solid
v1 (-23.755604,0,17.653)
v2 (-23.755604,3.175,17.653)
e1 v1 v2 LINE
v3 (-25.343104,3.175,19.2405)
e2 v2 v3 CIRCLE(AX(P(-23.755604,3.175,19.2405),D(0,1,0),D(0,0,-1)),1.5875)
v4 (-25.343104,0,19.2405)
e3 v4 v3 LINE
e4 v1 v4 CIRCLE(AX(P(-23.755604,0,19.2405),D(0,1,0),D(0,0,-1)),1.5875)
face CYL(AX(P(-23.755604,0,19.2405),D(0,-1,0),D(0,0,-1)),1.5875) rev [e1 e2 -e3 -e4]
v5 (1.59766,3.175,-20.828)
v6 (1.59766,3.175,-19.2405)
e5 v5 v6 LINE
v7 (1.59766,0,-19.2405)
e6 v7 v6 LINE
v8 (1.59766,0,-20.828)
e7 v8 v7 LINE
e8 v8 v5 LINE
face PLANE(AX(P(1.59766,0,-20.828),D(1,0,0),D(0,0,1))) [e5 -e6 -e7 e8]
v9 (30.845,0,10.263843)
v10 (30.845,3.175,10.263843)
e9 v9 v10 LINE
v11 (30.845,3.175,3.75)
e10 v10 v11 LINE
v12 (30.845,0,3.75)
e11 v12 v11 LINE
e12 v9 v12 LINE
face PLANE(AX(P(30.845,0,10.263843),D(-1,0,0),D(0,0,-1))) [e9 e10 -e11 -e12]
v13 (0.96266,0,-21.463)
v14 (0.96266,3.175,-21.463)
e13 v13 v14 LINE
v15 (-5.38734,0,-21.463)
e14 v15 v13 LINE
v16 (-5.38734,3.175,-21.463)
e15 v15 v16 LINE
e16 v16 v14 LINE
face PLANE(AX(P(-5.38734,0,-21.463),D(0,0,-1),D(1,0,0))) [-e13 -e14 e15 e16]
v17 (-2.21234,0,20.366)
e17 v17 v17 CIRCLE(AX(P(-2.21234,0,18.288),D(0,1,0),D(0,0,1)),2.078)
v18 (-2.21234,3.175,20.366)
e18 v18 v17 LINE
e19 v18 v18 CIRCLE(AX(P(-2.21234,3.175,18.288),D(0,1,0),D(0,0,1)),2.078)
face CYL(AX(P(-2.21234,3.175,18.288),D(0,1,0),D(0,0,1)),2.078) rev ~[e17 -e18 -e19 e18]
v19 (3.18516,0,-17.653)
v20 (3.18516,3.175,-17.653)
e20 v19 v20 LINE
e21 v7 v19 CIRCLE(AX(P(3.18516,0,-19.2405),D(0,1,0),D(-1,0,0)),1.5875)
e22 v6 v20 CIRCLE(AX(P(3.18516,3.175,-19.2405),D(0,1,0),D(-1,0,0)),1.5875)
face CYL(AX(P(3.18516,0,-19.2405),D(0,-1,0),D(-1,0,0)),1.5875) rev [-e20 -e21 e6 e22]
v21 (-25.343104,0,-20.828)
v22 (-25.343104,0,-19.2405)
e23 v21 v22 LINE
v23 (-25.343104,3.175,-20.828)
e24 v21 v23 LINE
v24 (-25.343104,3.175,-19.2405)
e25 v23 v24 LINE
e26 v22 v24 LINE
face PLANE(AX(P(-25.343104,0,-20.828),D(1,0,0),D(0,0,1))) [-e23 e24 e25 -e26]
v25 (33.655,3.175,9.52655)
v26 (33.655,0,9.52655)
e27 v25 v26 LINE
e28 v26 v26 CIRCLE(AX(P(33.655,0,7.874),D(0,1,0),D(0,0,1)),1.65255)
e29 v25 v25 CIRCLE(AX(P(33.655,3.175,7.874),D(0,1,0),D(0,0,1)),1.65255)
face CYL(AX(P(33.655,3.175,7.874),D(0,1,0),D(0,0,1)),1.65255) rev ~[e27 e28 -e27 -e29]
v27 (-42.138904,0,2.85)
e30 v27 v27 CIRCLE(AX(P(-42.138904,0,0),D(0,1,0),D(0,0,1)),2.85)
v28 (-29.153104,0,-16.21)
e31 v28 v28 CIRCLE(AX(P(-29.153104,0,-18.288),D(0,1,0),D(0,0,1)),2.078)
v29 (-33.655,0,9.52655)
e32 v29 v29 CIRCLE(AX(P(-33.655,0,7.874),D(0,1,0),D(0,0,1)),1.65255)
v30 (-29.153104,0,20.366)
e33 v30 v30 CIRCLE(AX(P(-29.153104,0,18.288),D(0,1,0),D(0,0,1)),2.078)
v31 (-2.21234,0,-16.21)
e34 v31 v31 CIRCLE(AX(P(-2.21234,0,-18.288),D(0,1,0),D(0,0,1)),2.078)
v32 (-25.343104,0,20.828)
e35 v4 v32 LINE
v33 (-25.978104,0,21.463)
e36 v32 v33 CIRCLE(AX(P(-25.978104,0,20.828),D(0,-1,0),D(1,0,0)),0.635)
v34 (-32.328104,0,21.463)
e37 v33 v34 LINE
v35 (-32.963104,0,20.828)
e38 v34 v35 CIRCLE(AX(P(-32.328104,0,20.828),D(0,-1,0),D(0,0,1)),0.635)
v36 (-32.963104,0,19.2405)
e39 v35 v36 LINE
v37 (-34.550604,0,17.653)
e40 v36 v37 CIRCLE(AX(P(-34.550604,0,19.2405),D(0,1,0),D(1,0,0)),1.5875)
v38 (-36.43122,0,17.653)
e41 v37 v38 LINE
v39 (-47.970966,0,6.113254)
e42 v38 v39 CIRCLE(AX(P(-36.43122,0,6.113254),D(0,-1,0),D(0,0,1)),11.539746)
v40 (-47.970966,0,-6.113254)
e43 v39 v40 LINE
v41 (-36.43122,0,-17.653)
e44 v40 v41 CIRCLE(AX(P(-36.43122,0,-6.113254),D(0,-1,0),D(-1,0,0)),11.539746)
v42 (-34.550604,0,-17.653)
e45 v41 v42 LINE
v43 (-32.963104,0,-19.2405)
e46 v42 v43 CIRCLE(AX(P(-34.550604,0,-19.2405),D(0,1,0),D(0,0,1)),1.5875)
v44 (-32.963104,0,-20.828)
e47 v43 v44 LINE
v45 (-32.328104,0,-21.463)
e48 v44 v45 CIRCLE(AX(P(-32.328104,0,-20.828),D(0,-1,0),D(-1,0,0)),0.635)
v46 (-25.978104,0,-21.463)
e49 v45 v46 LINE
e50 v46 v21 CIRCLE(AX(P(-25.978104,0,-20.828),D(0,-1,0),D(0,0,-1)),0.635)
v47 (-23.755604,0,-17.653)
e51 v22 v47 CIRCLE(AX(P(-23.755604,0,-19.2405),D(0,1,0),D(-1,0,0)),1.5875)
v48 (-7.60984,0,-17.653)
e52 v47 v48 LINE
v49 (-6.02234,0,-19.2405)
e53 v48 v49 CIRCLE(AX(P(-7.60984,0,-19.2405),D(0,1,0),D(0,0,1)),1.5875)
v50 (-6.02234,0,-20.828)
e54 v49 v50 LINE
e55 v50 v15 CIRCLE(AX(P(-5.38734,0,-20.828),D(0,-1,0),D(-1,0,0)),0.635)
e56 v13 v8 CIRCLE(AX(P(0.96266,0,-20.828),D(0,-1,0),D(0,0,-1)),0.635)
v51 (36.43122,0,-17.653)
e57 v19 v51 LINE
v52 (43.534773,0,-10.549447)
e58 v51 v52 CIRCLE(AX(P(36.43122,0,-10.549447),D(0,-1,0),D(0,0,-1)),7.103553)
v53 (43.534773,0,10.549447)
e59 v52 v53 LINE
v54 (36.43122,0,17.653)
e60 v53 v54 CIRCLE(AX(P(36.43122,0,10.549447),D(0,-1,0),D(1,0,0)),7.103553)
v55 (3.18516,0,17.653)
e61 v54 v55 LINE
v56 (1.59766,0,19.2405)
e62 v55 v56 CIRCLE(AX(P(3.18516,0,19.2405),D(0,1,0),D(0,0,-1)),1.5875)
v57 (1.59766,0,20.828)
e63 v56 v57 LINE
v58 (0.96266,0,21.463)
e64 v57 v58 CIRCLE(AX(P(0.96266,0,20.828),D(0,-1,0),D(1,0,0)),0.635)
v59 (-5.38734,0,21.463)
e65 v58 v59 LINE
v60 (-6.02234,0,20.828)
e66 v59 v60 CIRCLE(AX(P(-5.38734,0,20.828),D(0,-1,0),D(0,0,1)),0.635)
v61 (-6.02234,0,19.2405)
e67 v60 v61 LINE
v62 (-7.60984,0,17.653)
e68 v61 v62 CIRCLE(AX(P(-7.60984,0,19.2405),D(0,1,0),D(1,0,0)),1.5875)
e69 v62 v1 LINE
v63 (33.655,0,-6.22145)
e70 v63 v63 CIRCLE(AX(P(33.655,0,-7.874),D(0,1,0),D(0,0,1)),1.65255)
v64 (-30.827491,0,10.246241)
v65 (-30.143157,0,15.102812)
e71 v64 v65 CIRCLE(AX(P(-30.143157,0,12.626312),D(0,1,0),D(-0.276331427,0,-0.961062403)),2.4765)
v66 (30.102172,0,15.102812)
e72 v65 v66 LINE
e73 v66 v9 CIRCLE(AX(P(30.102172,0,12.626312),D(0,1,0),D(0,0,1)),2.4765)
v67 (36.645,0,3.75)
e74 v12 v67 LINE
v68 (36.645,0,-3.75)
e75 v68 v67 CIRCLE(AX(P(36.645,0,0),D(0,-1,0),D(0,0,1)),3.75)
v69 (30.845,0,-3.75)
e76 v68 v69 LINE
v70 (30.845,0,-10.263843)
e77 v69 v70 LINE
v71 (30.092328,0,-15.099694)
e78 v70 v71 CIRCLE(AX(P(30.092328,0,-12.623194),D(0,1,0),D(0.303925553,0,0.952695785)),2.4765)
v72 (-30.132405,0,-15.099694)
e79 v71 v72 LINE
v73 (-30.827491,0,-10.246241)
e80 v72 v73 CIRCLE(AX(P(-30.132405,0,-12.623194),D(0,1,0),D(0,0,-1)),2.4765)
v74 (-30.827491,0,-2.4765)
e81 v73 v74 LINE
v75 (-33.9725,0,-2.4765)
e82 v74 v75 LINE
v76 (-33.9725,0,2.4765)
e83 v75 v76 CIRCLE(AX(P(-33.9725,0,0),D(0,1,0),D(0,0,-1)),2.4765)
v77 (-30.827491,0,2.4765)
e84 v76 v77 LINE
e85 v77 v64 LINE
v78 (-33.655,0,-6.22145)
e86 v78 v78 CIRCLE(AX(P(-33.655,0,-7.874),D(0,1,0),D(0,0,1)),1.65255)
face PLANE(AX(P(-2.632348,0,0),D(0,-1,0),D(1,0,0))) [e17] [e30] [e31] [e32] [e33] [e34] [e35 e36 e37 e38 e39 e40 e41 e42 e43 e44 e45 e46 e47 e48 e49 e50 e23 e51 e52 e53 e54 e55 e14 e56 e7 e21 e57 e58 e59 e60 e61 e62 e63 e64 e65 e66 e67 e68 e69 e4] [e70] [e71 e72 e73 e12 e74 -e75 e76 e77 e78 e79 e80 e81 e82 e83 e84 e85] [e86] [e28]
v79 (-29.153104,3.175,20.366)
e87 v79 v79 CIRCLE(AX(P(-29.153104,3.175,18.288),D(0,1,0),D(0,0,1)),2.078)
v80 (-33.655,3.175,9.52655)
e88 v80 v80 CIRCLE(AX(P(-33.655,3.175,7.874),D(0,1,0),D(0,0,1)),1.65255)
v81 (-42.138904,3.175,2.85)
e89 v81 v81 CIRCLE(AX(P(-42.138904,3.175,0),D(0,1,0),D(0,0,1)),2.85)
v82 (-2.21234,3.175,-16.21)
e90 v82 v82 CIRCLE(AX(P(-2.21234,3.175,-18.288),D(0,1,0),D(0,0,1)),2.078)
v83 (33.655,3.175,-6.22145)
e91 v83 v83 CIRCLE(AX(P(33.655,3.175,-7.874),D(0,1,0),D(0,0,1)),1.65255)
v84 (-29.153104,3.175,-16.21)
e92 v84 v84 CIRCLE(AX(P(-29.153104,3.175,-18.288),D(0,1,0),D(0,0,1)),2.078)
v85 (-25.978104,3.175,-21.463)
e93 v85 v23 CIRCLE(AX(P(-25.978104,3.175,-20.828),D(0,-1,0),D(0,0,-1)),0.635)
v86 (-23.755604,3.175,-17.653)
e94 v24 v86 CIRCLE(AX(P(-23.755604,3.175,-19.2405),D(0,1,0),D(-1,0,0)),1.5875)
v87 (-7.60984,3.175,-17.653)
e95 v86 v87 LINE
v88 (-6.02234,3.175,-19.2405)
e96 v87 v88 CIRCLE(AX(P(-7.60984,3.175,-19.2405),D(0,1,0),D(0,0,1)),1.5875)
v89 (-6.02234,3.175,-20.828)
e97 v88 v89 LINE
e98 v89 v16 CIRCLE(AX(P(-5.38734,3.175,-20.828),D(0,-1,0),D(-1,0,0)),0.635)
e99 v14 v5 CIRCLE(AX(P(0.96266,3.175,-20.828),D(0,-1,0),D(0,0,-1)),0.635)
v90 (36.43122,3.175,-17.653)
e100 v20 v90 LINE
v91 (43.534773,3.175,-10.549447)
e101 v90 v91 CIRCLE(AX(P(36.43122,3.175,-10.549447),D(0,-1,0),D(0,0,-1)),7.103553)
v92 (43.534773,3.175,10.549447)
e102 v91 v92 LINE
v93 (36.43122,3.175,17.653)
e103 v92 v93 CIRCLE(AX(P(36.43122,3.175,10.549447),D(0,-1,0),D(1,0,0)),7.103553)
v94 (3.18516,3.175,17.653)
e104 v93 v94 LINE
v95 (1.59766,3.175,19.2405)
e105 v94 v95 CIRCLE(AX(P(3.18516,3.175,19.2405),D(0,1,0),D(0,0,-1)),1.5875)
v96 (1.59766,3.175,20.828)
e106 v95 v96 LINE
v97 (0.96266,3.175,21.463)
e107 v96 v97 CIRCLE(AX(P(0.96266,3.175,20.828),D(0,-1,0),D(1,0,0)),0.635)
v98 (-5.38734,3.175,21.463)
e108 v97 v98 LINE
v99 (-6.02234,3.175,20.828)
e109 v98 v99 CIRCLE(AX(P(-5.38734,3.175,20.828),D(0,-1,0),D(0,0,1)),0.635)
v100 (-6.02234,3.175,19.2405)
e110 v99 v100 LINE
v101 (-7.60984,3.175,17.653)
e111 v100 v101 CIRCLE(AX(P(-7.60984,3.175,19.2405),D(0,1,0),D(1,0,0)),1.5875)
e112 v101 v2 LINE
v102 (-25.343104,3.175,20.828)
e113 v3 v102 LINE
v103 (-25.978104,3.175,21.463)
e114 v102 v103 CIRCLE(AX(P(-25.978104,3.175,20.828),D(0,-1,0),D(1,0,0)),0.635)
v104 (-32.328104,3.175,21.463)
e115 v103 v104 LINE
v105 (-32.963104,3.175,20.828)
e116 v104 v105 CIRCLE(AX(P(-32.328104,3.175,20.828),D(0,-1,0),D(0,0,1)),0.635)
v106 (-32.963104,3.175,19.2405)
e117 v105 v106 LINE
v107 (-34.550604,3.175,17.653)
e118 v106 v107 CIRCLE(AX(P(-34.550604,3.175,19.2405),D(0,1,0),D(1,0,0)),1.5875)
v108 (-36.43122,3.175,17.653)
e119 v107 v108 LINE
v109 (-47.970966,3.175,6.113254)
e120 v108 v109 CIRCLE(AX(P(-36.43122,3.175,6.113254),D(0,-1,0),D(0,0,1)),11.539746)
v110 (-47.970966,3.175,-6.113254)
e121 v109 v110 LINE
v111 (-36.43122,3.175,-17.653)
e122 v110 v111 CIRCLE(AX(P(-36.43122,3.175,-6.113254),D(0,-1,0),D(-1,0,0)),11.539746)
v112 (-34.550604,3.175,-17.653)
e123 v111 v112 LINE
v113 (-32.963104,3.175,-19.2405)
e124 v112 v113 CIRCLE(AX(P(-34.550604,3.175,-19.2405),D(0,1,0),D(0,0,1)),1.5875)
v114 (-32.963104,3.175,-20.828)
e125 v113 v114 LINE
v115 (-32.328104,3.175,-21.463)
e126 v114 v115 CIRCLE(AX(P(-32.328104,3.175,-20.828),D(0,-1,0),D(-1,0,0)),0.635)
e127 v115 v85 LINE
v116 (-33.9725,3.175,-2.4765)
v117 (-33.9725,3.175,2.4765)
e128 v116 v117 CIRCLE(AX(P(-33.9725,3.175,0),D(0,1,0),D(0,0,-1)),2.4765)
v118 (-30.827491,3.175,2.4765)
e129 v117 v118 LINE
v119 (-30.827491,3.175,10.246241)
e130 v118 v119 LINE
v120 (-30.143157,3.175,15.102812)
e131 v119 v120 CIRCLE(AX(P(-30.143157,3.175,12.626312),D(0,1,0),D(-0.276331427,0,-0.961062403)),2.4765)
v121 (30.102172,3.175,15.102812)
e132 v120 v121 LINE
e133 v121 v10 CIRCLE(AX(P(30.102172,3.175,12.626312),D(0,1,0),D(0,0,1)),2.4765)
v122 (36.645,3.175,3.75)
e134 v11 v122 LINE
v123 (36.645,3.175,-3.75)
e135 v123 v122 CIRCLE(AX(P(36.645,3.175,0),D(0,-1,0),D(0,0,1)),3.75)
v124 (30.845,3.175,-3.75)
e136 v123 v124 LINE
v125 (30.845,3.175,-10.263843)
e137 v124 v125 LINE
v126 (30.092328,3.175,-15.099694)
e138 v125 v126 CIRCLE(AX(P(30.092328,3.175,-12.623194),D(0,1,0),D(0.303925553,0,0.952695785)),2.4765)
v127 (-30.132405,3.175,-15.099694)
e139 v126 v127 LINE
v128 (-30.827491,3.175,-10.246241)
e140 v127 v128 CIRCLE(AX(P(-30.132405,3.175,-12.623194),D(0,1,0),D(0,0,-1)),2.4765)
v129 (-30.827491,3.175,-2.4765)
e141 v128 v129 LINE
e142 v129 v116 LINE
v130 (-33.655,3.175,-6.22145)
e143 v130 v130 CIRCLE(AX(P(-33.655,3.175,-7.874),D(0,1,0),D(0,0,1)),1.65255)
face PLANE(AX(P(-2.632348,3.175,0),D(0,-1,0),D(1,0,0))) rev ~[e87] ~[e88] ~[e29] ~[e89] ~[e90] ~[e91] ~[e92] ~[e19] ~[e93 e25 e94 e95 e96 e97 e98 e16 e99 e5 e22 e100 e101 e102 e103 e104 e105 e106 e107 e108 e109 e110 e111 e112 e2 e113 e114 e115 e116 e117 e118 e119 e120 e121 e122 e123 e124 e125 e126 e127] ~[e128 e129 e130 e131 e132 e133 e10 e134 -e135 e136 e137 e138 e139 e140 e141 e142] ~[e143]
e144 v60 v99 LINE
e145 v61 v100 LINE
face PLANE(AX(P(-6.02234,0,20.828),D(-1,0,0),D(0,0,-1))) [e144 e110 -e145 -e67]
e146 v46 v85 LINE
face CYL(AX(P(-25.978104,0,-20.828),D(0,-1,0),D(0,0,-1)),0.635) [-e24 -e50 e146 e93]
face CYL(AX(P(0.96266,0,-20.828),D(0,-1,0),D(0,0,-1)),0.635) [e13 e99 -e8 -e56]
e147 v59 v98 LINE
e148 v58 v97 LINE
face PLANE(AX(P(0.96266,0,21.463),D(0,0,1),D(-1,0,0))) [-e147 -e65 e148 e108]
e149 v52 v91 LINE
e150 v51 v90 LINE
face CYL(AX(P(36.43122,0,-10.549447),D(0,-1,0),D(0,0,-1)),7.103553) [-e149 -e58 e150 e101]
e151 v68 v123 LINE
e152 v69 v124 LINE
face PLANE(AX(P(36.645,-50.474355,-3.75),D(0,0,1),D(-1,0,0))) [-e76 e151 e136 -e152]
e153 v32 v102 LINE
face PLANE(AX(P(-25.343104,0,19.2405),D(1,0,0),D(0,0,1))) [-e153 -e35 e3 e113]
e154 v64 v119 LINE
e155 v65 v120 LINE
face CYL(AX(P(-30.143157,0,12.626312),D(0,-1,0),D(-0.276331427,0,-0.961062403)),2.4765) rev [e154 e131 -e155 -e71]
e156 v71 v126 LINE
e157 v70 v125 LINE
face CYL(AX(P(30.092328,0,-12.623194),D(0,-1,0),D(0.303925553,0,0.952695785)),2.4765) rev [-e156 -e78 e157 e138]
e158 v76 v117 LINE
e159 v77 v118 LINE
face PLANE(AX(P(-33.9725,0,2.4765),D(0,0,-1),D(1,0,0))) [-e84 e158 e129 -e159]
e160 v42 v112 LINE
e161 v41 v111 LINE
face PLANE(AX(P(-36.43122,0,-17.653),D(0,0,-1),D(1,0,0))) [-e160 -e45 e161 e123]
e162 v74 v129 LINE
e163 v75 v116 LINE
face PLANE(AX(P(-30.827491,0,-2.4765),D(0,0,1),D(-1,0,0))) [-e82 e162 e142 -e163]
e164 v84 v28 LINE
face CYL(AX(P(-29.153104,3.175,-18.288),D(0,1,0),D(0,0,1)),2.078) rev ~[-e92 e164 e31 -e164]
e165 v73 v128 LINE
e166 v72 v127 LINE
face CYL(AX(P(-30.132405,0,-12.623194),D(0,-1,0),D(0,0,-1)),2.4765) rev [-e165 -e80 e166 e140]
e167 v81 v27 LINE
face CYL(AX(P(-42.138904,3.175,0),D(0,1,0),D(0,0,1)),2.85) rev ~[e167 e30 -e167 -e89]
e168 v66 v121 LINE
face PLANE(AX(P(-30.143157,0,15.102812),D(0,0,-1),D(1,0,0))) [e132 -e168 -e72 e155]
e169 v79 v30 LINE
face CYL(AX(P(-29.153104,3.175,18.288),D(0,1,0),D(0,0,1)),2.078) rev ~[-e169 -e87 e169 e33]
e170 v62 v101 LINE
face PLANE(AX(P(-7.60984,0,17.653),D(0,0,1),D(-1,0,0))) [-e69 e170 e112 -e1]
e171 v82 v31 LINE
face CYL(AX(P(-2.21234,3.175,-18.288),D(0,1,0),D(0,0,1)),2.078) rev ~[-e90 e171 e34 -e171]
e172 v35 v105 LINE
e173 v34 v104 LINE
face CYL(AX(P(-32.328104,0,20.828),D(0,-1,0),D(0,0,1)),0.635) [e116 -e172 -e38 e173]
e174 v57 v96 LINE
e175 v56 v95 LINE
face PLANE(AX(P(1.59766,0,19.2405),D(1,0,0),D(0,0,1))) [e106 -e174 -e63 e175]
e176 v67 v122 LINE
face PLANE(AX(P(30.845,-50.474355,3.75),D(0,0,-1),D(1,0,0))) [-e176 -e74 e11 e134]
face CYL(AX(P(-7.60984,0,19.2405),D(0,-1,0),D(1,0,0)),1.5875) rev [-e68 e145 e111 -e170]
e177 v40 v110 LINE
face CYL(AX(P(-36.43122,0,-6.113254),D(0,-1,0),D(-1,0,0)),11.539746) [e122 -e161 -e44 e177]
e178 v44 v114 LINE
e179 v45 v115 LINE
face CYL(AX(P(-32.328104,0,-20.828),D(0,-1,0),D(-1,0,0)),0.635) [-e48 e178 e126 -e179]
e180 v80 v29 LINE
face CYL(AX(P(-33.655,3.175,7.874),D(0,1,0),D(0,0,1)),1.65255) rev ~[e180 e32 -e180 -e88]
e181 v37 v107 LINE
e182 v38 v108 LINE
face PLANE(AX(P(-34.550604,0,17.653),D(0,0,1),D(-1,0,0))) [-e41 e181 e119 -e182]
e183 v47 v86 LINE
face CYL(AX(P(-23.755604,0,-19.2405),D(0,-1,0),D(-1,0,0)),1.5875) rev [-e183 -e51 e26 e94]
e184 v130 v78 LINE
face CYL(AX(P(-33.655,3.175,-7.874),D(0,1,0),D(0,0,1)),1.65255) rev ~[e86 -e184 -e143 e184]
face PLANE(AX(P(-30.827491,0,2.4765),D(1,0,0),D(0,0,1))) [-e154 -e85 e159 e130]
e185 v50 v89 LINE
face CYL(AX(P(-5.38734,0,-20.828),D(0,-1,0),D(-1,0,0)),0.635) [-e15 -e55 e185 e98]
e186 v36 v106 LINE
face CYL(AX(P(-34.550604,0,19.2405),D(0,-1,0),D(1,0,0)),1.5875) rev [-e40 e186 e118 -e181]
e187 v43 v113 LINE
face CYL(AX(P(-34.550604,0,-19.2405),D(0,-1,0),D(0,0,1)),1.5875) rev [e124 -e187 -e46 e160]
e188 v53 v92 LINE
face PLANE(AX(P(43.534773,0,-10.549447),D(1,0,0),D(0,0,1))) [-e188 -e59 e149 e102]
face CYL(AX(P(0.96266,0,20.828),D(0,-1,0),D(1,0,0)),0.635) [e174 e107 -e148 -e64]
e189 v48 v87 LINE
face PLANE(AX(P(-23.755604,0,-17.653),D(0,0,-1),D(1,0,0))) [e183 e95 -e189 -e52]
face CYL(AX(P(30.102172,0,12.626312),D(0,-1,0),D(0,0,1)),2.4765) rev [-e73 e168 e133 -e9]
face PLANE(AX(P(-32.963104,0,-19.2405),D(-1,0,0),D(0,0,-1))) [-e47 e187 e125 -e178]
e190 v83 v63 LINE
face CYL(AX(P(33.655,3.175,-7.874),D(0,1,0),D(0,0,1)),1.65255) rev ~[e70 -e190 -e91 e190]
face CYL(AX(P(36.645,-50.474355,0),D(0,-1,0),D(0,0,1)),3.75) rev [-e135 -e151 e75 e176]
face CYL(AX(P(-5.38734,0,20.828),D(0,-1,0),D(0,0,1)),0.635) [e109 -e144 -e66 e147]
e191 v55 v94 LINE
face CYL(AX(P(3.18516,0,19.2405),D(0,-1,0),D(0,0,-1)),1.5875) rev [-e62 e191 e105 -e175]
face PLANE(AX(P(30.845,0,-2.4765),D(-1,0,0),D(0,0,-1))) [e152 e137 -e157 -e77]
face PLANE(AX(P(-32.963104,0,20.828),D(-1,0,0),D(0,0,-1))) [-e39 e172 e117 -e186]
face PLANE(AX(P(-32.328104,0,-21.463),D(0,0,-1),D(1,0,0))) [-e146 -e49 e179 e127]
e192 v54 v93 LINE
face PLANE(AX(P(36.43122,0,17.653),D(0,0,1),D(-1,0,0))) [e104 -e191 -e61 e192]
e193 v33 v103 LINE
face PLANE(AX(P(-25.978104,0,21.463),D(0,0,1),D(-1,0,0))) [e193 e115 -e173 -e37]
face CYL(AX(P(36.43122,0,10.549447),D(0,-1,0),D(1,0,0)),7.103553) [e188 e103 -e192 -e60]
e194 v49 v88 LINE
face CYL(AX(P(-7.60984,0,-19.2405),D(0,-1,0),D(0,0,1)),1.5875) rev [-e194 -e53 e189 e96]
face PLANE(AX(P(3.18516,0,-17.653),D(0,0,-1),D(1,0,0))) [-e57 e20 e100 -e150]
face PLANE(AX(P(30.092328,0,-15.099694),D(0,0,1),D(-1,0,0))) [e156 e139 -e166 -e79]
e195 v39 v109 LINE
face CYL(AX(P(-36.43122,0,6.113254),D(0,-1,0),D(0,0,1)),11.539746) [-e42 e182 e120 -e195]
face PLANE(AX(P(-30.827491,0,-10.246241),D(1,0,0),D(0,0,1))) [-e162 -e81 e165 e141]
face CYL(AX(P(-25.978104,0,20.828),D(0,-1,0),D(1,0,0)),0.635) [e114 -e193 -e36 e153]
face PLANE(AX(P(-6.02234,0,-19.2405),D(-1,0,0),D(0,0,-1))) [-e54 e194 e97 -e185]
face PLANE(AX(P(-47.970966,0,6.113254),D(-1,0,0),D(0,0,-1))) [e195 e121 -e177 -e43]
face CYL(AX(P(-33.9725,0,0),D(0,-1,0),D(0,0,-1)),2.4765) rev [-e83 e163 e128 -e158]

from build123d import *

# Parameters (mm, degrees)
CROQUIS1_R                 = 1.35255
CROQUIS1_R_2               = 1.778
SALIENTE_EXTRUIR1_DEPTH    = 3.175
CROQUIS5_R                 = 2.55
CORTAR_EXTRUIR1_DEPTH      = 53.649355209
CORTAR_EXTRUIR2_DEPTH      = 53.649355209
CORTAR_EXTRUIR2_DEPTH_BACK = 53.649355209
CROQUIS10_R                = 2.078
CROQUIS10_R_2              = 1.65255
CROQUIS10_R_3              = 2.85
CORTAR_EXTRUIR3_DEPTH      = 53.649355209


with BuildPart() as part:
    # Croquis1 → Saliente-Extruir1 (new body)
    with BuildSketch(Plane.XZ):
        with BuildLine():
            Line((-6.02234, -19.2405), (-6.02234, -20.828))
            ThreePointArc((-6.02234, -20.828), (-5.836352806, -21.277012806), (-5.38734, -21.463))
            Line((-5.38734, -21.463), (0.96266, -21.463))
            ThreePointArc((0.96266, -21.463), (1.411672806, -21.277012806), (1.59766, -20.828))
            Line((1.59766, -20.828), (1.59766, -19.2405))
            ThreePointArc((1.59766, -19.2405), (2.062627985, -18.117967985), (3.18516, -17.653))
            Line((3.18516, -17.653), (36.43122, -17.653))
            ThreePointArc((36.43122, -17.653), (41.454190356, -15.572417555), (43.534772801, -10.549447199))
            Line((43.534772801, -10.549447199), (43.534772801, 10.549447199))
            ThreePointArc((43.534772801, 10.549447199), (41.454190356, 15.572417555), (36.43122, 17.653))
            Line((36.43122, 17.653), (3.18516, 17.653))
            ThreePointArc((3.18516, 17.653), (2.062627985, 18.117967985), (1.59766, 19.2405))
            Line((1.59766, 19.2405), (1.59766, 20.828))
            ThreePointArc((1.59766, 20.828), (1.411672806, 21.277012806), (0.96266, 21.463))
            Line((0.96266, 21.463), (-5.38734, 21.463))
            ThreePointArc((-5.38734, 21.463), (-5.836352806, 21.277012806), (-6.02234, 20.828))
            Line((-6.02234, 20.828), (-6.02234, 19.2405))
            ThreePointArc((-6.02234, 19.2405), (-6.487307985, 18.117967985), (-7.60984, 17.653))
            Line((-7.60984, 17.653), (-23.755604, 17.653))
            ThreePointArc((-23.755604, 17.653), (-24.878136015, 18.117967985), (-25.343104, 19.2405))
            Line((-25.343104, 19.2405), (-25.343104, 20.828))
            ThreePointArc((-25.343104, 20.828), (-25.529091194, 21.277012806), (-25.978104, 21.463))
            Line((-25.978104, 21.463), (-32.328104, 21.463))
            ThreePointArc((-32.328104, 21.463), (-32.777116806, 21.277012806), (-32.963104, 20.828))
            Line((-32.963104, 20.828), (-32.963104, 19.2405))
            ThreePointArc((-32.963104, 19.2405), (-33.428071985, 18.117967985), (-34.550604, 17.653))
            Line((-34.550604, 17.653), (-36.43122, 17.653))
            ThreePointArc((-36.43122, 17.653), (-44.591052878, 14.273086555), (-47.970966323, 6.113253677))
            Line((-47.970966323, 6.113253677), (-47.970966323, -6.113253677))
            ThreePointArc((-47.970966323, -6.113253677), (-44.591052878, -14.273086555), (-36.43122, -17.653))
            Line((-36.43122, -17.653), (-34.550604, -17.653))
            ThreePointArc((-34.550604, -17.653), (-33.428071985, -18.117967985), (-32.963104, -19.2405))
            Line((-32.963104, -19.2405), (-32.963104, -20.828))
            ThreePointArc((-32.963104, -20.828), (-32.777116806, -21.277012806), (-32.328104, -21.463))
            Line((-32.328104, -21.463), (-25.978104, -21.463))
            ThreePointArc((-25.978104, -21.463), (-25.529091194, -21.277012806), (-25.343104, -20.828))
            Line((-25.343104, -20.828), (-25.343104, -19.2405))
            ThreePointArc((-25.343104, -19.2405), (-24.878136015, -18.117967985), (-23.755604, -17.653))
            Line((-23.755604, -17.653), (-7.60984, -17.653))
            ThreePointArc((-7.60984, -17.653), (-6.487307985, -18.117967985), (-6.02234, -19.2405))
        make_face()
        with Locations(Location((33.655, -7.874, 0), (0, 0, 90))):
            Circle(CROQUIS1_R, mode=Mode.SUBTRACT)
        with Locations(Location((-33.655, 7.874, 0), (0, 0, 90))):
            Circle(CROQUIS1_R, mode=Mode.SUBTRACT)
        with Locations(Location((-33.655, -7.874, 0), (0, 0, 90))):
            Circle(CROQUIS1_R, mode=Mode.SUBTRACT)
        with Locations(Location((-2.21234, 18.288, 0), (0, 0, 90))):
            Circle(CROQUIS1_R_2, mode=Mode.SUBTRACT)
        with Locations(Location((-29.153104, -18.288, 0), (0, 0, 90))):
            Circle(CROQUIS1_R_2, mode=Mode.SUBTRACT)
        with Locations(Location((-2.21234, -18.288, 0), (0, 0, 90))):
            Circle(CROQUIS1_R_2, mode=Mode.SUBTRACT)
        with Locations(Location((-29.153104, 18.288, 0), (0, 0, 90))):
            Circle(CROQUIS1_R_2, mode=Mode.SUBTRACT)
        with Locations(Location((33.655, 7.874, 0), (0, 0, 90))):
            Circle(CROQUIS1_R, mode=Mode.SUBTRACT)
        with BuildLine():
            Line((-33.9725, 2.4765), (-30.827491336, 2.4765))
            Line((-30.827491336, 2.4765), (-30.827491336, 10.246241112))
            ThreePointArc((-30.827491336, 10.246241112), (-32.595430826, 12.971859774), (-30.143156557, 15.102812154))
            Line((-30.143156557, 15.102812154), (30.102172211, 15.102812154))
            ThreePointArc((30.102172211, 15.102812154), (32.54999843, 13.002076782), (30.845, 10.263843291))
            Line((30.845, 10.263843291), (30.845, 2.4765))
            Line((30.845, 2.4765), (33.9725, 2.4765))
            ThreePointArc((33.9725, 2.4765), (36.449, 0), (33.9725, -2.4765))
            Line((33.9725, -2.4765), (30.845, -2.4765))
            Line((30.845, -2.4765), (30.845, -10.263843291))
            ThreePointArc((30.845, -10.263843291), (32.539365892, -13.004061323), (30.092328369, -15.099694402))
            Line((30.092328369, -15.099694402), (-30.132404788, -15.099694402))
            ThreePointArc((-30.132404788, -15.099694402), (-32.583891793, -12.974283727), (-30.827491336, -10.246241112))
            Line((-30.827491336, -10.246241112), (-30.827491336, -2.4765))
            Line((-30.827491336, -2.4765), (-33.9725, -2.4765))
            ThreePointArc((-33.9725, -2.4765), (-36.449, 0), (-33.9725, 2.4765))
        make_face(mode=Mode.SUBTRACT)
    extrude(amount=-SALIENTE_EXTRUIR1_DEPTH)

    # Croquis5 → Cortar-Extruir1 (cut, through all)
    with BuildSketch(Plane(origin=(0, 3.175, 0), x_dir=(1, 0, 0), z_dir=(0, 1, 0))):
        with Locations(Location((-42.138904379, 0, 0), (0, 0, 270))):
            Circle(CROQUIS5_R)
    extrude(amount=-CORTAR_EXTRUIR1_DEPTH, mode=Mode.SUBTRACT)

    # Croquis9 → Cortar-Extruir2 (cut, two sides: drawn at the far end of the back side and taken through both)
    with BuildSketch(Plane(origin=(0, 3.175, 0), x_dir=(1, 0, 0), z_dir=(0, 1, 0)).offset(-CORTAR_EXTRUIR2_DEPTH_BACK)):
        with BuildLine():
            Line((30.845, -2.4765), (30.845, -3.75))
            Line((30.845, -3.75), (36.645, -3.75))
            ThreePointArc((36.645, -3.75), (40.395, 0), (36.645, 3.75))
            Line((36.645, 3.75), (30.845, 3.75))
            Line((30.845, 3.75), (30.845, 2.4765))
            Line((30.845, 2.4765), (33.9725, 2.4765))
            ThreePointArc((33.9725, 2.4765), (36.449, 0), (33.9725, -2.4765))
            Line((33.9725, -2.4765), (30.845, -2.4765))
        make_face()
    extrude(amount=CORTAR_EXTRUIR2_DEPTH + CORTAR_EXTRUIR2_DEPTH_BACK, mode=Mode.SUBTRACT)

    # Croquis10 → Cortar-Extruir3 (cut, through all)
    with BuildSketch(Plane(origin=(0, 3.175, 0), x_dir=(1, 0, 0), z_dir=(0, 1, 0))):
        with Locations(Location((-29.153104, 18.288, 0), (0, 0, 270))):
            Circle(CROQUIS10_R)
        with Locations(Location((-33.655, 7.874, 0), (0, 0, 270))):
            Circle(CROQUIS10_R_2)
        with Locations(Location((-42.138904379, 0, 0), (0, 0, 270))):
            Circle(CROQUIS10_R_3)
        with Locations(Location((-33.655, -7.874, 0), (0, 0, 270))):
            Circle(CROQUIS10_R_2)
        with Locations(Location((-29.153104, -18.288, 0), (0, 0, 270))):
            Circle(CROQUIS10_R)
        with Locations(Location((-2.21234, -18.288, 0), (0, 0, 270))):
            Circle(CROQUIS10_R)
        with Locations(Location((-2.21234, 18.288, 0), (0, 0, 270))):
            Circle(CROQUIS10_R)
        with Locations(Location((33.655, 7.874, 0), (0, 0, 270))):
            Circle(CROQUIS10_R_2)
        with Locations(Location((33.655, -7.874, 0), (0, 0, 270))):
            Circle(CROQUIS10_R_2)
    extrude(amount=-CORTAR_EXTRUIR3_DEPTH, mode=Mode.SUBTRACT)


solid = part.part
